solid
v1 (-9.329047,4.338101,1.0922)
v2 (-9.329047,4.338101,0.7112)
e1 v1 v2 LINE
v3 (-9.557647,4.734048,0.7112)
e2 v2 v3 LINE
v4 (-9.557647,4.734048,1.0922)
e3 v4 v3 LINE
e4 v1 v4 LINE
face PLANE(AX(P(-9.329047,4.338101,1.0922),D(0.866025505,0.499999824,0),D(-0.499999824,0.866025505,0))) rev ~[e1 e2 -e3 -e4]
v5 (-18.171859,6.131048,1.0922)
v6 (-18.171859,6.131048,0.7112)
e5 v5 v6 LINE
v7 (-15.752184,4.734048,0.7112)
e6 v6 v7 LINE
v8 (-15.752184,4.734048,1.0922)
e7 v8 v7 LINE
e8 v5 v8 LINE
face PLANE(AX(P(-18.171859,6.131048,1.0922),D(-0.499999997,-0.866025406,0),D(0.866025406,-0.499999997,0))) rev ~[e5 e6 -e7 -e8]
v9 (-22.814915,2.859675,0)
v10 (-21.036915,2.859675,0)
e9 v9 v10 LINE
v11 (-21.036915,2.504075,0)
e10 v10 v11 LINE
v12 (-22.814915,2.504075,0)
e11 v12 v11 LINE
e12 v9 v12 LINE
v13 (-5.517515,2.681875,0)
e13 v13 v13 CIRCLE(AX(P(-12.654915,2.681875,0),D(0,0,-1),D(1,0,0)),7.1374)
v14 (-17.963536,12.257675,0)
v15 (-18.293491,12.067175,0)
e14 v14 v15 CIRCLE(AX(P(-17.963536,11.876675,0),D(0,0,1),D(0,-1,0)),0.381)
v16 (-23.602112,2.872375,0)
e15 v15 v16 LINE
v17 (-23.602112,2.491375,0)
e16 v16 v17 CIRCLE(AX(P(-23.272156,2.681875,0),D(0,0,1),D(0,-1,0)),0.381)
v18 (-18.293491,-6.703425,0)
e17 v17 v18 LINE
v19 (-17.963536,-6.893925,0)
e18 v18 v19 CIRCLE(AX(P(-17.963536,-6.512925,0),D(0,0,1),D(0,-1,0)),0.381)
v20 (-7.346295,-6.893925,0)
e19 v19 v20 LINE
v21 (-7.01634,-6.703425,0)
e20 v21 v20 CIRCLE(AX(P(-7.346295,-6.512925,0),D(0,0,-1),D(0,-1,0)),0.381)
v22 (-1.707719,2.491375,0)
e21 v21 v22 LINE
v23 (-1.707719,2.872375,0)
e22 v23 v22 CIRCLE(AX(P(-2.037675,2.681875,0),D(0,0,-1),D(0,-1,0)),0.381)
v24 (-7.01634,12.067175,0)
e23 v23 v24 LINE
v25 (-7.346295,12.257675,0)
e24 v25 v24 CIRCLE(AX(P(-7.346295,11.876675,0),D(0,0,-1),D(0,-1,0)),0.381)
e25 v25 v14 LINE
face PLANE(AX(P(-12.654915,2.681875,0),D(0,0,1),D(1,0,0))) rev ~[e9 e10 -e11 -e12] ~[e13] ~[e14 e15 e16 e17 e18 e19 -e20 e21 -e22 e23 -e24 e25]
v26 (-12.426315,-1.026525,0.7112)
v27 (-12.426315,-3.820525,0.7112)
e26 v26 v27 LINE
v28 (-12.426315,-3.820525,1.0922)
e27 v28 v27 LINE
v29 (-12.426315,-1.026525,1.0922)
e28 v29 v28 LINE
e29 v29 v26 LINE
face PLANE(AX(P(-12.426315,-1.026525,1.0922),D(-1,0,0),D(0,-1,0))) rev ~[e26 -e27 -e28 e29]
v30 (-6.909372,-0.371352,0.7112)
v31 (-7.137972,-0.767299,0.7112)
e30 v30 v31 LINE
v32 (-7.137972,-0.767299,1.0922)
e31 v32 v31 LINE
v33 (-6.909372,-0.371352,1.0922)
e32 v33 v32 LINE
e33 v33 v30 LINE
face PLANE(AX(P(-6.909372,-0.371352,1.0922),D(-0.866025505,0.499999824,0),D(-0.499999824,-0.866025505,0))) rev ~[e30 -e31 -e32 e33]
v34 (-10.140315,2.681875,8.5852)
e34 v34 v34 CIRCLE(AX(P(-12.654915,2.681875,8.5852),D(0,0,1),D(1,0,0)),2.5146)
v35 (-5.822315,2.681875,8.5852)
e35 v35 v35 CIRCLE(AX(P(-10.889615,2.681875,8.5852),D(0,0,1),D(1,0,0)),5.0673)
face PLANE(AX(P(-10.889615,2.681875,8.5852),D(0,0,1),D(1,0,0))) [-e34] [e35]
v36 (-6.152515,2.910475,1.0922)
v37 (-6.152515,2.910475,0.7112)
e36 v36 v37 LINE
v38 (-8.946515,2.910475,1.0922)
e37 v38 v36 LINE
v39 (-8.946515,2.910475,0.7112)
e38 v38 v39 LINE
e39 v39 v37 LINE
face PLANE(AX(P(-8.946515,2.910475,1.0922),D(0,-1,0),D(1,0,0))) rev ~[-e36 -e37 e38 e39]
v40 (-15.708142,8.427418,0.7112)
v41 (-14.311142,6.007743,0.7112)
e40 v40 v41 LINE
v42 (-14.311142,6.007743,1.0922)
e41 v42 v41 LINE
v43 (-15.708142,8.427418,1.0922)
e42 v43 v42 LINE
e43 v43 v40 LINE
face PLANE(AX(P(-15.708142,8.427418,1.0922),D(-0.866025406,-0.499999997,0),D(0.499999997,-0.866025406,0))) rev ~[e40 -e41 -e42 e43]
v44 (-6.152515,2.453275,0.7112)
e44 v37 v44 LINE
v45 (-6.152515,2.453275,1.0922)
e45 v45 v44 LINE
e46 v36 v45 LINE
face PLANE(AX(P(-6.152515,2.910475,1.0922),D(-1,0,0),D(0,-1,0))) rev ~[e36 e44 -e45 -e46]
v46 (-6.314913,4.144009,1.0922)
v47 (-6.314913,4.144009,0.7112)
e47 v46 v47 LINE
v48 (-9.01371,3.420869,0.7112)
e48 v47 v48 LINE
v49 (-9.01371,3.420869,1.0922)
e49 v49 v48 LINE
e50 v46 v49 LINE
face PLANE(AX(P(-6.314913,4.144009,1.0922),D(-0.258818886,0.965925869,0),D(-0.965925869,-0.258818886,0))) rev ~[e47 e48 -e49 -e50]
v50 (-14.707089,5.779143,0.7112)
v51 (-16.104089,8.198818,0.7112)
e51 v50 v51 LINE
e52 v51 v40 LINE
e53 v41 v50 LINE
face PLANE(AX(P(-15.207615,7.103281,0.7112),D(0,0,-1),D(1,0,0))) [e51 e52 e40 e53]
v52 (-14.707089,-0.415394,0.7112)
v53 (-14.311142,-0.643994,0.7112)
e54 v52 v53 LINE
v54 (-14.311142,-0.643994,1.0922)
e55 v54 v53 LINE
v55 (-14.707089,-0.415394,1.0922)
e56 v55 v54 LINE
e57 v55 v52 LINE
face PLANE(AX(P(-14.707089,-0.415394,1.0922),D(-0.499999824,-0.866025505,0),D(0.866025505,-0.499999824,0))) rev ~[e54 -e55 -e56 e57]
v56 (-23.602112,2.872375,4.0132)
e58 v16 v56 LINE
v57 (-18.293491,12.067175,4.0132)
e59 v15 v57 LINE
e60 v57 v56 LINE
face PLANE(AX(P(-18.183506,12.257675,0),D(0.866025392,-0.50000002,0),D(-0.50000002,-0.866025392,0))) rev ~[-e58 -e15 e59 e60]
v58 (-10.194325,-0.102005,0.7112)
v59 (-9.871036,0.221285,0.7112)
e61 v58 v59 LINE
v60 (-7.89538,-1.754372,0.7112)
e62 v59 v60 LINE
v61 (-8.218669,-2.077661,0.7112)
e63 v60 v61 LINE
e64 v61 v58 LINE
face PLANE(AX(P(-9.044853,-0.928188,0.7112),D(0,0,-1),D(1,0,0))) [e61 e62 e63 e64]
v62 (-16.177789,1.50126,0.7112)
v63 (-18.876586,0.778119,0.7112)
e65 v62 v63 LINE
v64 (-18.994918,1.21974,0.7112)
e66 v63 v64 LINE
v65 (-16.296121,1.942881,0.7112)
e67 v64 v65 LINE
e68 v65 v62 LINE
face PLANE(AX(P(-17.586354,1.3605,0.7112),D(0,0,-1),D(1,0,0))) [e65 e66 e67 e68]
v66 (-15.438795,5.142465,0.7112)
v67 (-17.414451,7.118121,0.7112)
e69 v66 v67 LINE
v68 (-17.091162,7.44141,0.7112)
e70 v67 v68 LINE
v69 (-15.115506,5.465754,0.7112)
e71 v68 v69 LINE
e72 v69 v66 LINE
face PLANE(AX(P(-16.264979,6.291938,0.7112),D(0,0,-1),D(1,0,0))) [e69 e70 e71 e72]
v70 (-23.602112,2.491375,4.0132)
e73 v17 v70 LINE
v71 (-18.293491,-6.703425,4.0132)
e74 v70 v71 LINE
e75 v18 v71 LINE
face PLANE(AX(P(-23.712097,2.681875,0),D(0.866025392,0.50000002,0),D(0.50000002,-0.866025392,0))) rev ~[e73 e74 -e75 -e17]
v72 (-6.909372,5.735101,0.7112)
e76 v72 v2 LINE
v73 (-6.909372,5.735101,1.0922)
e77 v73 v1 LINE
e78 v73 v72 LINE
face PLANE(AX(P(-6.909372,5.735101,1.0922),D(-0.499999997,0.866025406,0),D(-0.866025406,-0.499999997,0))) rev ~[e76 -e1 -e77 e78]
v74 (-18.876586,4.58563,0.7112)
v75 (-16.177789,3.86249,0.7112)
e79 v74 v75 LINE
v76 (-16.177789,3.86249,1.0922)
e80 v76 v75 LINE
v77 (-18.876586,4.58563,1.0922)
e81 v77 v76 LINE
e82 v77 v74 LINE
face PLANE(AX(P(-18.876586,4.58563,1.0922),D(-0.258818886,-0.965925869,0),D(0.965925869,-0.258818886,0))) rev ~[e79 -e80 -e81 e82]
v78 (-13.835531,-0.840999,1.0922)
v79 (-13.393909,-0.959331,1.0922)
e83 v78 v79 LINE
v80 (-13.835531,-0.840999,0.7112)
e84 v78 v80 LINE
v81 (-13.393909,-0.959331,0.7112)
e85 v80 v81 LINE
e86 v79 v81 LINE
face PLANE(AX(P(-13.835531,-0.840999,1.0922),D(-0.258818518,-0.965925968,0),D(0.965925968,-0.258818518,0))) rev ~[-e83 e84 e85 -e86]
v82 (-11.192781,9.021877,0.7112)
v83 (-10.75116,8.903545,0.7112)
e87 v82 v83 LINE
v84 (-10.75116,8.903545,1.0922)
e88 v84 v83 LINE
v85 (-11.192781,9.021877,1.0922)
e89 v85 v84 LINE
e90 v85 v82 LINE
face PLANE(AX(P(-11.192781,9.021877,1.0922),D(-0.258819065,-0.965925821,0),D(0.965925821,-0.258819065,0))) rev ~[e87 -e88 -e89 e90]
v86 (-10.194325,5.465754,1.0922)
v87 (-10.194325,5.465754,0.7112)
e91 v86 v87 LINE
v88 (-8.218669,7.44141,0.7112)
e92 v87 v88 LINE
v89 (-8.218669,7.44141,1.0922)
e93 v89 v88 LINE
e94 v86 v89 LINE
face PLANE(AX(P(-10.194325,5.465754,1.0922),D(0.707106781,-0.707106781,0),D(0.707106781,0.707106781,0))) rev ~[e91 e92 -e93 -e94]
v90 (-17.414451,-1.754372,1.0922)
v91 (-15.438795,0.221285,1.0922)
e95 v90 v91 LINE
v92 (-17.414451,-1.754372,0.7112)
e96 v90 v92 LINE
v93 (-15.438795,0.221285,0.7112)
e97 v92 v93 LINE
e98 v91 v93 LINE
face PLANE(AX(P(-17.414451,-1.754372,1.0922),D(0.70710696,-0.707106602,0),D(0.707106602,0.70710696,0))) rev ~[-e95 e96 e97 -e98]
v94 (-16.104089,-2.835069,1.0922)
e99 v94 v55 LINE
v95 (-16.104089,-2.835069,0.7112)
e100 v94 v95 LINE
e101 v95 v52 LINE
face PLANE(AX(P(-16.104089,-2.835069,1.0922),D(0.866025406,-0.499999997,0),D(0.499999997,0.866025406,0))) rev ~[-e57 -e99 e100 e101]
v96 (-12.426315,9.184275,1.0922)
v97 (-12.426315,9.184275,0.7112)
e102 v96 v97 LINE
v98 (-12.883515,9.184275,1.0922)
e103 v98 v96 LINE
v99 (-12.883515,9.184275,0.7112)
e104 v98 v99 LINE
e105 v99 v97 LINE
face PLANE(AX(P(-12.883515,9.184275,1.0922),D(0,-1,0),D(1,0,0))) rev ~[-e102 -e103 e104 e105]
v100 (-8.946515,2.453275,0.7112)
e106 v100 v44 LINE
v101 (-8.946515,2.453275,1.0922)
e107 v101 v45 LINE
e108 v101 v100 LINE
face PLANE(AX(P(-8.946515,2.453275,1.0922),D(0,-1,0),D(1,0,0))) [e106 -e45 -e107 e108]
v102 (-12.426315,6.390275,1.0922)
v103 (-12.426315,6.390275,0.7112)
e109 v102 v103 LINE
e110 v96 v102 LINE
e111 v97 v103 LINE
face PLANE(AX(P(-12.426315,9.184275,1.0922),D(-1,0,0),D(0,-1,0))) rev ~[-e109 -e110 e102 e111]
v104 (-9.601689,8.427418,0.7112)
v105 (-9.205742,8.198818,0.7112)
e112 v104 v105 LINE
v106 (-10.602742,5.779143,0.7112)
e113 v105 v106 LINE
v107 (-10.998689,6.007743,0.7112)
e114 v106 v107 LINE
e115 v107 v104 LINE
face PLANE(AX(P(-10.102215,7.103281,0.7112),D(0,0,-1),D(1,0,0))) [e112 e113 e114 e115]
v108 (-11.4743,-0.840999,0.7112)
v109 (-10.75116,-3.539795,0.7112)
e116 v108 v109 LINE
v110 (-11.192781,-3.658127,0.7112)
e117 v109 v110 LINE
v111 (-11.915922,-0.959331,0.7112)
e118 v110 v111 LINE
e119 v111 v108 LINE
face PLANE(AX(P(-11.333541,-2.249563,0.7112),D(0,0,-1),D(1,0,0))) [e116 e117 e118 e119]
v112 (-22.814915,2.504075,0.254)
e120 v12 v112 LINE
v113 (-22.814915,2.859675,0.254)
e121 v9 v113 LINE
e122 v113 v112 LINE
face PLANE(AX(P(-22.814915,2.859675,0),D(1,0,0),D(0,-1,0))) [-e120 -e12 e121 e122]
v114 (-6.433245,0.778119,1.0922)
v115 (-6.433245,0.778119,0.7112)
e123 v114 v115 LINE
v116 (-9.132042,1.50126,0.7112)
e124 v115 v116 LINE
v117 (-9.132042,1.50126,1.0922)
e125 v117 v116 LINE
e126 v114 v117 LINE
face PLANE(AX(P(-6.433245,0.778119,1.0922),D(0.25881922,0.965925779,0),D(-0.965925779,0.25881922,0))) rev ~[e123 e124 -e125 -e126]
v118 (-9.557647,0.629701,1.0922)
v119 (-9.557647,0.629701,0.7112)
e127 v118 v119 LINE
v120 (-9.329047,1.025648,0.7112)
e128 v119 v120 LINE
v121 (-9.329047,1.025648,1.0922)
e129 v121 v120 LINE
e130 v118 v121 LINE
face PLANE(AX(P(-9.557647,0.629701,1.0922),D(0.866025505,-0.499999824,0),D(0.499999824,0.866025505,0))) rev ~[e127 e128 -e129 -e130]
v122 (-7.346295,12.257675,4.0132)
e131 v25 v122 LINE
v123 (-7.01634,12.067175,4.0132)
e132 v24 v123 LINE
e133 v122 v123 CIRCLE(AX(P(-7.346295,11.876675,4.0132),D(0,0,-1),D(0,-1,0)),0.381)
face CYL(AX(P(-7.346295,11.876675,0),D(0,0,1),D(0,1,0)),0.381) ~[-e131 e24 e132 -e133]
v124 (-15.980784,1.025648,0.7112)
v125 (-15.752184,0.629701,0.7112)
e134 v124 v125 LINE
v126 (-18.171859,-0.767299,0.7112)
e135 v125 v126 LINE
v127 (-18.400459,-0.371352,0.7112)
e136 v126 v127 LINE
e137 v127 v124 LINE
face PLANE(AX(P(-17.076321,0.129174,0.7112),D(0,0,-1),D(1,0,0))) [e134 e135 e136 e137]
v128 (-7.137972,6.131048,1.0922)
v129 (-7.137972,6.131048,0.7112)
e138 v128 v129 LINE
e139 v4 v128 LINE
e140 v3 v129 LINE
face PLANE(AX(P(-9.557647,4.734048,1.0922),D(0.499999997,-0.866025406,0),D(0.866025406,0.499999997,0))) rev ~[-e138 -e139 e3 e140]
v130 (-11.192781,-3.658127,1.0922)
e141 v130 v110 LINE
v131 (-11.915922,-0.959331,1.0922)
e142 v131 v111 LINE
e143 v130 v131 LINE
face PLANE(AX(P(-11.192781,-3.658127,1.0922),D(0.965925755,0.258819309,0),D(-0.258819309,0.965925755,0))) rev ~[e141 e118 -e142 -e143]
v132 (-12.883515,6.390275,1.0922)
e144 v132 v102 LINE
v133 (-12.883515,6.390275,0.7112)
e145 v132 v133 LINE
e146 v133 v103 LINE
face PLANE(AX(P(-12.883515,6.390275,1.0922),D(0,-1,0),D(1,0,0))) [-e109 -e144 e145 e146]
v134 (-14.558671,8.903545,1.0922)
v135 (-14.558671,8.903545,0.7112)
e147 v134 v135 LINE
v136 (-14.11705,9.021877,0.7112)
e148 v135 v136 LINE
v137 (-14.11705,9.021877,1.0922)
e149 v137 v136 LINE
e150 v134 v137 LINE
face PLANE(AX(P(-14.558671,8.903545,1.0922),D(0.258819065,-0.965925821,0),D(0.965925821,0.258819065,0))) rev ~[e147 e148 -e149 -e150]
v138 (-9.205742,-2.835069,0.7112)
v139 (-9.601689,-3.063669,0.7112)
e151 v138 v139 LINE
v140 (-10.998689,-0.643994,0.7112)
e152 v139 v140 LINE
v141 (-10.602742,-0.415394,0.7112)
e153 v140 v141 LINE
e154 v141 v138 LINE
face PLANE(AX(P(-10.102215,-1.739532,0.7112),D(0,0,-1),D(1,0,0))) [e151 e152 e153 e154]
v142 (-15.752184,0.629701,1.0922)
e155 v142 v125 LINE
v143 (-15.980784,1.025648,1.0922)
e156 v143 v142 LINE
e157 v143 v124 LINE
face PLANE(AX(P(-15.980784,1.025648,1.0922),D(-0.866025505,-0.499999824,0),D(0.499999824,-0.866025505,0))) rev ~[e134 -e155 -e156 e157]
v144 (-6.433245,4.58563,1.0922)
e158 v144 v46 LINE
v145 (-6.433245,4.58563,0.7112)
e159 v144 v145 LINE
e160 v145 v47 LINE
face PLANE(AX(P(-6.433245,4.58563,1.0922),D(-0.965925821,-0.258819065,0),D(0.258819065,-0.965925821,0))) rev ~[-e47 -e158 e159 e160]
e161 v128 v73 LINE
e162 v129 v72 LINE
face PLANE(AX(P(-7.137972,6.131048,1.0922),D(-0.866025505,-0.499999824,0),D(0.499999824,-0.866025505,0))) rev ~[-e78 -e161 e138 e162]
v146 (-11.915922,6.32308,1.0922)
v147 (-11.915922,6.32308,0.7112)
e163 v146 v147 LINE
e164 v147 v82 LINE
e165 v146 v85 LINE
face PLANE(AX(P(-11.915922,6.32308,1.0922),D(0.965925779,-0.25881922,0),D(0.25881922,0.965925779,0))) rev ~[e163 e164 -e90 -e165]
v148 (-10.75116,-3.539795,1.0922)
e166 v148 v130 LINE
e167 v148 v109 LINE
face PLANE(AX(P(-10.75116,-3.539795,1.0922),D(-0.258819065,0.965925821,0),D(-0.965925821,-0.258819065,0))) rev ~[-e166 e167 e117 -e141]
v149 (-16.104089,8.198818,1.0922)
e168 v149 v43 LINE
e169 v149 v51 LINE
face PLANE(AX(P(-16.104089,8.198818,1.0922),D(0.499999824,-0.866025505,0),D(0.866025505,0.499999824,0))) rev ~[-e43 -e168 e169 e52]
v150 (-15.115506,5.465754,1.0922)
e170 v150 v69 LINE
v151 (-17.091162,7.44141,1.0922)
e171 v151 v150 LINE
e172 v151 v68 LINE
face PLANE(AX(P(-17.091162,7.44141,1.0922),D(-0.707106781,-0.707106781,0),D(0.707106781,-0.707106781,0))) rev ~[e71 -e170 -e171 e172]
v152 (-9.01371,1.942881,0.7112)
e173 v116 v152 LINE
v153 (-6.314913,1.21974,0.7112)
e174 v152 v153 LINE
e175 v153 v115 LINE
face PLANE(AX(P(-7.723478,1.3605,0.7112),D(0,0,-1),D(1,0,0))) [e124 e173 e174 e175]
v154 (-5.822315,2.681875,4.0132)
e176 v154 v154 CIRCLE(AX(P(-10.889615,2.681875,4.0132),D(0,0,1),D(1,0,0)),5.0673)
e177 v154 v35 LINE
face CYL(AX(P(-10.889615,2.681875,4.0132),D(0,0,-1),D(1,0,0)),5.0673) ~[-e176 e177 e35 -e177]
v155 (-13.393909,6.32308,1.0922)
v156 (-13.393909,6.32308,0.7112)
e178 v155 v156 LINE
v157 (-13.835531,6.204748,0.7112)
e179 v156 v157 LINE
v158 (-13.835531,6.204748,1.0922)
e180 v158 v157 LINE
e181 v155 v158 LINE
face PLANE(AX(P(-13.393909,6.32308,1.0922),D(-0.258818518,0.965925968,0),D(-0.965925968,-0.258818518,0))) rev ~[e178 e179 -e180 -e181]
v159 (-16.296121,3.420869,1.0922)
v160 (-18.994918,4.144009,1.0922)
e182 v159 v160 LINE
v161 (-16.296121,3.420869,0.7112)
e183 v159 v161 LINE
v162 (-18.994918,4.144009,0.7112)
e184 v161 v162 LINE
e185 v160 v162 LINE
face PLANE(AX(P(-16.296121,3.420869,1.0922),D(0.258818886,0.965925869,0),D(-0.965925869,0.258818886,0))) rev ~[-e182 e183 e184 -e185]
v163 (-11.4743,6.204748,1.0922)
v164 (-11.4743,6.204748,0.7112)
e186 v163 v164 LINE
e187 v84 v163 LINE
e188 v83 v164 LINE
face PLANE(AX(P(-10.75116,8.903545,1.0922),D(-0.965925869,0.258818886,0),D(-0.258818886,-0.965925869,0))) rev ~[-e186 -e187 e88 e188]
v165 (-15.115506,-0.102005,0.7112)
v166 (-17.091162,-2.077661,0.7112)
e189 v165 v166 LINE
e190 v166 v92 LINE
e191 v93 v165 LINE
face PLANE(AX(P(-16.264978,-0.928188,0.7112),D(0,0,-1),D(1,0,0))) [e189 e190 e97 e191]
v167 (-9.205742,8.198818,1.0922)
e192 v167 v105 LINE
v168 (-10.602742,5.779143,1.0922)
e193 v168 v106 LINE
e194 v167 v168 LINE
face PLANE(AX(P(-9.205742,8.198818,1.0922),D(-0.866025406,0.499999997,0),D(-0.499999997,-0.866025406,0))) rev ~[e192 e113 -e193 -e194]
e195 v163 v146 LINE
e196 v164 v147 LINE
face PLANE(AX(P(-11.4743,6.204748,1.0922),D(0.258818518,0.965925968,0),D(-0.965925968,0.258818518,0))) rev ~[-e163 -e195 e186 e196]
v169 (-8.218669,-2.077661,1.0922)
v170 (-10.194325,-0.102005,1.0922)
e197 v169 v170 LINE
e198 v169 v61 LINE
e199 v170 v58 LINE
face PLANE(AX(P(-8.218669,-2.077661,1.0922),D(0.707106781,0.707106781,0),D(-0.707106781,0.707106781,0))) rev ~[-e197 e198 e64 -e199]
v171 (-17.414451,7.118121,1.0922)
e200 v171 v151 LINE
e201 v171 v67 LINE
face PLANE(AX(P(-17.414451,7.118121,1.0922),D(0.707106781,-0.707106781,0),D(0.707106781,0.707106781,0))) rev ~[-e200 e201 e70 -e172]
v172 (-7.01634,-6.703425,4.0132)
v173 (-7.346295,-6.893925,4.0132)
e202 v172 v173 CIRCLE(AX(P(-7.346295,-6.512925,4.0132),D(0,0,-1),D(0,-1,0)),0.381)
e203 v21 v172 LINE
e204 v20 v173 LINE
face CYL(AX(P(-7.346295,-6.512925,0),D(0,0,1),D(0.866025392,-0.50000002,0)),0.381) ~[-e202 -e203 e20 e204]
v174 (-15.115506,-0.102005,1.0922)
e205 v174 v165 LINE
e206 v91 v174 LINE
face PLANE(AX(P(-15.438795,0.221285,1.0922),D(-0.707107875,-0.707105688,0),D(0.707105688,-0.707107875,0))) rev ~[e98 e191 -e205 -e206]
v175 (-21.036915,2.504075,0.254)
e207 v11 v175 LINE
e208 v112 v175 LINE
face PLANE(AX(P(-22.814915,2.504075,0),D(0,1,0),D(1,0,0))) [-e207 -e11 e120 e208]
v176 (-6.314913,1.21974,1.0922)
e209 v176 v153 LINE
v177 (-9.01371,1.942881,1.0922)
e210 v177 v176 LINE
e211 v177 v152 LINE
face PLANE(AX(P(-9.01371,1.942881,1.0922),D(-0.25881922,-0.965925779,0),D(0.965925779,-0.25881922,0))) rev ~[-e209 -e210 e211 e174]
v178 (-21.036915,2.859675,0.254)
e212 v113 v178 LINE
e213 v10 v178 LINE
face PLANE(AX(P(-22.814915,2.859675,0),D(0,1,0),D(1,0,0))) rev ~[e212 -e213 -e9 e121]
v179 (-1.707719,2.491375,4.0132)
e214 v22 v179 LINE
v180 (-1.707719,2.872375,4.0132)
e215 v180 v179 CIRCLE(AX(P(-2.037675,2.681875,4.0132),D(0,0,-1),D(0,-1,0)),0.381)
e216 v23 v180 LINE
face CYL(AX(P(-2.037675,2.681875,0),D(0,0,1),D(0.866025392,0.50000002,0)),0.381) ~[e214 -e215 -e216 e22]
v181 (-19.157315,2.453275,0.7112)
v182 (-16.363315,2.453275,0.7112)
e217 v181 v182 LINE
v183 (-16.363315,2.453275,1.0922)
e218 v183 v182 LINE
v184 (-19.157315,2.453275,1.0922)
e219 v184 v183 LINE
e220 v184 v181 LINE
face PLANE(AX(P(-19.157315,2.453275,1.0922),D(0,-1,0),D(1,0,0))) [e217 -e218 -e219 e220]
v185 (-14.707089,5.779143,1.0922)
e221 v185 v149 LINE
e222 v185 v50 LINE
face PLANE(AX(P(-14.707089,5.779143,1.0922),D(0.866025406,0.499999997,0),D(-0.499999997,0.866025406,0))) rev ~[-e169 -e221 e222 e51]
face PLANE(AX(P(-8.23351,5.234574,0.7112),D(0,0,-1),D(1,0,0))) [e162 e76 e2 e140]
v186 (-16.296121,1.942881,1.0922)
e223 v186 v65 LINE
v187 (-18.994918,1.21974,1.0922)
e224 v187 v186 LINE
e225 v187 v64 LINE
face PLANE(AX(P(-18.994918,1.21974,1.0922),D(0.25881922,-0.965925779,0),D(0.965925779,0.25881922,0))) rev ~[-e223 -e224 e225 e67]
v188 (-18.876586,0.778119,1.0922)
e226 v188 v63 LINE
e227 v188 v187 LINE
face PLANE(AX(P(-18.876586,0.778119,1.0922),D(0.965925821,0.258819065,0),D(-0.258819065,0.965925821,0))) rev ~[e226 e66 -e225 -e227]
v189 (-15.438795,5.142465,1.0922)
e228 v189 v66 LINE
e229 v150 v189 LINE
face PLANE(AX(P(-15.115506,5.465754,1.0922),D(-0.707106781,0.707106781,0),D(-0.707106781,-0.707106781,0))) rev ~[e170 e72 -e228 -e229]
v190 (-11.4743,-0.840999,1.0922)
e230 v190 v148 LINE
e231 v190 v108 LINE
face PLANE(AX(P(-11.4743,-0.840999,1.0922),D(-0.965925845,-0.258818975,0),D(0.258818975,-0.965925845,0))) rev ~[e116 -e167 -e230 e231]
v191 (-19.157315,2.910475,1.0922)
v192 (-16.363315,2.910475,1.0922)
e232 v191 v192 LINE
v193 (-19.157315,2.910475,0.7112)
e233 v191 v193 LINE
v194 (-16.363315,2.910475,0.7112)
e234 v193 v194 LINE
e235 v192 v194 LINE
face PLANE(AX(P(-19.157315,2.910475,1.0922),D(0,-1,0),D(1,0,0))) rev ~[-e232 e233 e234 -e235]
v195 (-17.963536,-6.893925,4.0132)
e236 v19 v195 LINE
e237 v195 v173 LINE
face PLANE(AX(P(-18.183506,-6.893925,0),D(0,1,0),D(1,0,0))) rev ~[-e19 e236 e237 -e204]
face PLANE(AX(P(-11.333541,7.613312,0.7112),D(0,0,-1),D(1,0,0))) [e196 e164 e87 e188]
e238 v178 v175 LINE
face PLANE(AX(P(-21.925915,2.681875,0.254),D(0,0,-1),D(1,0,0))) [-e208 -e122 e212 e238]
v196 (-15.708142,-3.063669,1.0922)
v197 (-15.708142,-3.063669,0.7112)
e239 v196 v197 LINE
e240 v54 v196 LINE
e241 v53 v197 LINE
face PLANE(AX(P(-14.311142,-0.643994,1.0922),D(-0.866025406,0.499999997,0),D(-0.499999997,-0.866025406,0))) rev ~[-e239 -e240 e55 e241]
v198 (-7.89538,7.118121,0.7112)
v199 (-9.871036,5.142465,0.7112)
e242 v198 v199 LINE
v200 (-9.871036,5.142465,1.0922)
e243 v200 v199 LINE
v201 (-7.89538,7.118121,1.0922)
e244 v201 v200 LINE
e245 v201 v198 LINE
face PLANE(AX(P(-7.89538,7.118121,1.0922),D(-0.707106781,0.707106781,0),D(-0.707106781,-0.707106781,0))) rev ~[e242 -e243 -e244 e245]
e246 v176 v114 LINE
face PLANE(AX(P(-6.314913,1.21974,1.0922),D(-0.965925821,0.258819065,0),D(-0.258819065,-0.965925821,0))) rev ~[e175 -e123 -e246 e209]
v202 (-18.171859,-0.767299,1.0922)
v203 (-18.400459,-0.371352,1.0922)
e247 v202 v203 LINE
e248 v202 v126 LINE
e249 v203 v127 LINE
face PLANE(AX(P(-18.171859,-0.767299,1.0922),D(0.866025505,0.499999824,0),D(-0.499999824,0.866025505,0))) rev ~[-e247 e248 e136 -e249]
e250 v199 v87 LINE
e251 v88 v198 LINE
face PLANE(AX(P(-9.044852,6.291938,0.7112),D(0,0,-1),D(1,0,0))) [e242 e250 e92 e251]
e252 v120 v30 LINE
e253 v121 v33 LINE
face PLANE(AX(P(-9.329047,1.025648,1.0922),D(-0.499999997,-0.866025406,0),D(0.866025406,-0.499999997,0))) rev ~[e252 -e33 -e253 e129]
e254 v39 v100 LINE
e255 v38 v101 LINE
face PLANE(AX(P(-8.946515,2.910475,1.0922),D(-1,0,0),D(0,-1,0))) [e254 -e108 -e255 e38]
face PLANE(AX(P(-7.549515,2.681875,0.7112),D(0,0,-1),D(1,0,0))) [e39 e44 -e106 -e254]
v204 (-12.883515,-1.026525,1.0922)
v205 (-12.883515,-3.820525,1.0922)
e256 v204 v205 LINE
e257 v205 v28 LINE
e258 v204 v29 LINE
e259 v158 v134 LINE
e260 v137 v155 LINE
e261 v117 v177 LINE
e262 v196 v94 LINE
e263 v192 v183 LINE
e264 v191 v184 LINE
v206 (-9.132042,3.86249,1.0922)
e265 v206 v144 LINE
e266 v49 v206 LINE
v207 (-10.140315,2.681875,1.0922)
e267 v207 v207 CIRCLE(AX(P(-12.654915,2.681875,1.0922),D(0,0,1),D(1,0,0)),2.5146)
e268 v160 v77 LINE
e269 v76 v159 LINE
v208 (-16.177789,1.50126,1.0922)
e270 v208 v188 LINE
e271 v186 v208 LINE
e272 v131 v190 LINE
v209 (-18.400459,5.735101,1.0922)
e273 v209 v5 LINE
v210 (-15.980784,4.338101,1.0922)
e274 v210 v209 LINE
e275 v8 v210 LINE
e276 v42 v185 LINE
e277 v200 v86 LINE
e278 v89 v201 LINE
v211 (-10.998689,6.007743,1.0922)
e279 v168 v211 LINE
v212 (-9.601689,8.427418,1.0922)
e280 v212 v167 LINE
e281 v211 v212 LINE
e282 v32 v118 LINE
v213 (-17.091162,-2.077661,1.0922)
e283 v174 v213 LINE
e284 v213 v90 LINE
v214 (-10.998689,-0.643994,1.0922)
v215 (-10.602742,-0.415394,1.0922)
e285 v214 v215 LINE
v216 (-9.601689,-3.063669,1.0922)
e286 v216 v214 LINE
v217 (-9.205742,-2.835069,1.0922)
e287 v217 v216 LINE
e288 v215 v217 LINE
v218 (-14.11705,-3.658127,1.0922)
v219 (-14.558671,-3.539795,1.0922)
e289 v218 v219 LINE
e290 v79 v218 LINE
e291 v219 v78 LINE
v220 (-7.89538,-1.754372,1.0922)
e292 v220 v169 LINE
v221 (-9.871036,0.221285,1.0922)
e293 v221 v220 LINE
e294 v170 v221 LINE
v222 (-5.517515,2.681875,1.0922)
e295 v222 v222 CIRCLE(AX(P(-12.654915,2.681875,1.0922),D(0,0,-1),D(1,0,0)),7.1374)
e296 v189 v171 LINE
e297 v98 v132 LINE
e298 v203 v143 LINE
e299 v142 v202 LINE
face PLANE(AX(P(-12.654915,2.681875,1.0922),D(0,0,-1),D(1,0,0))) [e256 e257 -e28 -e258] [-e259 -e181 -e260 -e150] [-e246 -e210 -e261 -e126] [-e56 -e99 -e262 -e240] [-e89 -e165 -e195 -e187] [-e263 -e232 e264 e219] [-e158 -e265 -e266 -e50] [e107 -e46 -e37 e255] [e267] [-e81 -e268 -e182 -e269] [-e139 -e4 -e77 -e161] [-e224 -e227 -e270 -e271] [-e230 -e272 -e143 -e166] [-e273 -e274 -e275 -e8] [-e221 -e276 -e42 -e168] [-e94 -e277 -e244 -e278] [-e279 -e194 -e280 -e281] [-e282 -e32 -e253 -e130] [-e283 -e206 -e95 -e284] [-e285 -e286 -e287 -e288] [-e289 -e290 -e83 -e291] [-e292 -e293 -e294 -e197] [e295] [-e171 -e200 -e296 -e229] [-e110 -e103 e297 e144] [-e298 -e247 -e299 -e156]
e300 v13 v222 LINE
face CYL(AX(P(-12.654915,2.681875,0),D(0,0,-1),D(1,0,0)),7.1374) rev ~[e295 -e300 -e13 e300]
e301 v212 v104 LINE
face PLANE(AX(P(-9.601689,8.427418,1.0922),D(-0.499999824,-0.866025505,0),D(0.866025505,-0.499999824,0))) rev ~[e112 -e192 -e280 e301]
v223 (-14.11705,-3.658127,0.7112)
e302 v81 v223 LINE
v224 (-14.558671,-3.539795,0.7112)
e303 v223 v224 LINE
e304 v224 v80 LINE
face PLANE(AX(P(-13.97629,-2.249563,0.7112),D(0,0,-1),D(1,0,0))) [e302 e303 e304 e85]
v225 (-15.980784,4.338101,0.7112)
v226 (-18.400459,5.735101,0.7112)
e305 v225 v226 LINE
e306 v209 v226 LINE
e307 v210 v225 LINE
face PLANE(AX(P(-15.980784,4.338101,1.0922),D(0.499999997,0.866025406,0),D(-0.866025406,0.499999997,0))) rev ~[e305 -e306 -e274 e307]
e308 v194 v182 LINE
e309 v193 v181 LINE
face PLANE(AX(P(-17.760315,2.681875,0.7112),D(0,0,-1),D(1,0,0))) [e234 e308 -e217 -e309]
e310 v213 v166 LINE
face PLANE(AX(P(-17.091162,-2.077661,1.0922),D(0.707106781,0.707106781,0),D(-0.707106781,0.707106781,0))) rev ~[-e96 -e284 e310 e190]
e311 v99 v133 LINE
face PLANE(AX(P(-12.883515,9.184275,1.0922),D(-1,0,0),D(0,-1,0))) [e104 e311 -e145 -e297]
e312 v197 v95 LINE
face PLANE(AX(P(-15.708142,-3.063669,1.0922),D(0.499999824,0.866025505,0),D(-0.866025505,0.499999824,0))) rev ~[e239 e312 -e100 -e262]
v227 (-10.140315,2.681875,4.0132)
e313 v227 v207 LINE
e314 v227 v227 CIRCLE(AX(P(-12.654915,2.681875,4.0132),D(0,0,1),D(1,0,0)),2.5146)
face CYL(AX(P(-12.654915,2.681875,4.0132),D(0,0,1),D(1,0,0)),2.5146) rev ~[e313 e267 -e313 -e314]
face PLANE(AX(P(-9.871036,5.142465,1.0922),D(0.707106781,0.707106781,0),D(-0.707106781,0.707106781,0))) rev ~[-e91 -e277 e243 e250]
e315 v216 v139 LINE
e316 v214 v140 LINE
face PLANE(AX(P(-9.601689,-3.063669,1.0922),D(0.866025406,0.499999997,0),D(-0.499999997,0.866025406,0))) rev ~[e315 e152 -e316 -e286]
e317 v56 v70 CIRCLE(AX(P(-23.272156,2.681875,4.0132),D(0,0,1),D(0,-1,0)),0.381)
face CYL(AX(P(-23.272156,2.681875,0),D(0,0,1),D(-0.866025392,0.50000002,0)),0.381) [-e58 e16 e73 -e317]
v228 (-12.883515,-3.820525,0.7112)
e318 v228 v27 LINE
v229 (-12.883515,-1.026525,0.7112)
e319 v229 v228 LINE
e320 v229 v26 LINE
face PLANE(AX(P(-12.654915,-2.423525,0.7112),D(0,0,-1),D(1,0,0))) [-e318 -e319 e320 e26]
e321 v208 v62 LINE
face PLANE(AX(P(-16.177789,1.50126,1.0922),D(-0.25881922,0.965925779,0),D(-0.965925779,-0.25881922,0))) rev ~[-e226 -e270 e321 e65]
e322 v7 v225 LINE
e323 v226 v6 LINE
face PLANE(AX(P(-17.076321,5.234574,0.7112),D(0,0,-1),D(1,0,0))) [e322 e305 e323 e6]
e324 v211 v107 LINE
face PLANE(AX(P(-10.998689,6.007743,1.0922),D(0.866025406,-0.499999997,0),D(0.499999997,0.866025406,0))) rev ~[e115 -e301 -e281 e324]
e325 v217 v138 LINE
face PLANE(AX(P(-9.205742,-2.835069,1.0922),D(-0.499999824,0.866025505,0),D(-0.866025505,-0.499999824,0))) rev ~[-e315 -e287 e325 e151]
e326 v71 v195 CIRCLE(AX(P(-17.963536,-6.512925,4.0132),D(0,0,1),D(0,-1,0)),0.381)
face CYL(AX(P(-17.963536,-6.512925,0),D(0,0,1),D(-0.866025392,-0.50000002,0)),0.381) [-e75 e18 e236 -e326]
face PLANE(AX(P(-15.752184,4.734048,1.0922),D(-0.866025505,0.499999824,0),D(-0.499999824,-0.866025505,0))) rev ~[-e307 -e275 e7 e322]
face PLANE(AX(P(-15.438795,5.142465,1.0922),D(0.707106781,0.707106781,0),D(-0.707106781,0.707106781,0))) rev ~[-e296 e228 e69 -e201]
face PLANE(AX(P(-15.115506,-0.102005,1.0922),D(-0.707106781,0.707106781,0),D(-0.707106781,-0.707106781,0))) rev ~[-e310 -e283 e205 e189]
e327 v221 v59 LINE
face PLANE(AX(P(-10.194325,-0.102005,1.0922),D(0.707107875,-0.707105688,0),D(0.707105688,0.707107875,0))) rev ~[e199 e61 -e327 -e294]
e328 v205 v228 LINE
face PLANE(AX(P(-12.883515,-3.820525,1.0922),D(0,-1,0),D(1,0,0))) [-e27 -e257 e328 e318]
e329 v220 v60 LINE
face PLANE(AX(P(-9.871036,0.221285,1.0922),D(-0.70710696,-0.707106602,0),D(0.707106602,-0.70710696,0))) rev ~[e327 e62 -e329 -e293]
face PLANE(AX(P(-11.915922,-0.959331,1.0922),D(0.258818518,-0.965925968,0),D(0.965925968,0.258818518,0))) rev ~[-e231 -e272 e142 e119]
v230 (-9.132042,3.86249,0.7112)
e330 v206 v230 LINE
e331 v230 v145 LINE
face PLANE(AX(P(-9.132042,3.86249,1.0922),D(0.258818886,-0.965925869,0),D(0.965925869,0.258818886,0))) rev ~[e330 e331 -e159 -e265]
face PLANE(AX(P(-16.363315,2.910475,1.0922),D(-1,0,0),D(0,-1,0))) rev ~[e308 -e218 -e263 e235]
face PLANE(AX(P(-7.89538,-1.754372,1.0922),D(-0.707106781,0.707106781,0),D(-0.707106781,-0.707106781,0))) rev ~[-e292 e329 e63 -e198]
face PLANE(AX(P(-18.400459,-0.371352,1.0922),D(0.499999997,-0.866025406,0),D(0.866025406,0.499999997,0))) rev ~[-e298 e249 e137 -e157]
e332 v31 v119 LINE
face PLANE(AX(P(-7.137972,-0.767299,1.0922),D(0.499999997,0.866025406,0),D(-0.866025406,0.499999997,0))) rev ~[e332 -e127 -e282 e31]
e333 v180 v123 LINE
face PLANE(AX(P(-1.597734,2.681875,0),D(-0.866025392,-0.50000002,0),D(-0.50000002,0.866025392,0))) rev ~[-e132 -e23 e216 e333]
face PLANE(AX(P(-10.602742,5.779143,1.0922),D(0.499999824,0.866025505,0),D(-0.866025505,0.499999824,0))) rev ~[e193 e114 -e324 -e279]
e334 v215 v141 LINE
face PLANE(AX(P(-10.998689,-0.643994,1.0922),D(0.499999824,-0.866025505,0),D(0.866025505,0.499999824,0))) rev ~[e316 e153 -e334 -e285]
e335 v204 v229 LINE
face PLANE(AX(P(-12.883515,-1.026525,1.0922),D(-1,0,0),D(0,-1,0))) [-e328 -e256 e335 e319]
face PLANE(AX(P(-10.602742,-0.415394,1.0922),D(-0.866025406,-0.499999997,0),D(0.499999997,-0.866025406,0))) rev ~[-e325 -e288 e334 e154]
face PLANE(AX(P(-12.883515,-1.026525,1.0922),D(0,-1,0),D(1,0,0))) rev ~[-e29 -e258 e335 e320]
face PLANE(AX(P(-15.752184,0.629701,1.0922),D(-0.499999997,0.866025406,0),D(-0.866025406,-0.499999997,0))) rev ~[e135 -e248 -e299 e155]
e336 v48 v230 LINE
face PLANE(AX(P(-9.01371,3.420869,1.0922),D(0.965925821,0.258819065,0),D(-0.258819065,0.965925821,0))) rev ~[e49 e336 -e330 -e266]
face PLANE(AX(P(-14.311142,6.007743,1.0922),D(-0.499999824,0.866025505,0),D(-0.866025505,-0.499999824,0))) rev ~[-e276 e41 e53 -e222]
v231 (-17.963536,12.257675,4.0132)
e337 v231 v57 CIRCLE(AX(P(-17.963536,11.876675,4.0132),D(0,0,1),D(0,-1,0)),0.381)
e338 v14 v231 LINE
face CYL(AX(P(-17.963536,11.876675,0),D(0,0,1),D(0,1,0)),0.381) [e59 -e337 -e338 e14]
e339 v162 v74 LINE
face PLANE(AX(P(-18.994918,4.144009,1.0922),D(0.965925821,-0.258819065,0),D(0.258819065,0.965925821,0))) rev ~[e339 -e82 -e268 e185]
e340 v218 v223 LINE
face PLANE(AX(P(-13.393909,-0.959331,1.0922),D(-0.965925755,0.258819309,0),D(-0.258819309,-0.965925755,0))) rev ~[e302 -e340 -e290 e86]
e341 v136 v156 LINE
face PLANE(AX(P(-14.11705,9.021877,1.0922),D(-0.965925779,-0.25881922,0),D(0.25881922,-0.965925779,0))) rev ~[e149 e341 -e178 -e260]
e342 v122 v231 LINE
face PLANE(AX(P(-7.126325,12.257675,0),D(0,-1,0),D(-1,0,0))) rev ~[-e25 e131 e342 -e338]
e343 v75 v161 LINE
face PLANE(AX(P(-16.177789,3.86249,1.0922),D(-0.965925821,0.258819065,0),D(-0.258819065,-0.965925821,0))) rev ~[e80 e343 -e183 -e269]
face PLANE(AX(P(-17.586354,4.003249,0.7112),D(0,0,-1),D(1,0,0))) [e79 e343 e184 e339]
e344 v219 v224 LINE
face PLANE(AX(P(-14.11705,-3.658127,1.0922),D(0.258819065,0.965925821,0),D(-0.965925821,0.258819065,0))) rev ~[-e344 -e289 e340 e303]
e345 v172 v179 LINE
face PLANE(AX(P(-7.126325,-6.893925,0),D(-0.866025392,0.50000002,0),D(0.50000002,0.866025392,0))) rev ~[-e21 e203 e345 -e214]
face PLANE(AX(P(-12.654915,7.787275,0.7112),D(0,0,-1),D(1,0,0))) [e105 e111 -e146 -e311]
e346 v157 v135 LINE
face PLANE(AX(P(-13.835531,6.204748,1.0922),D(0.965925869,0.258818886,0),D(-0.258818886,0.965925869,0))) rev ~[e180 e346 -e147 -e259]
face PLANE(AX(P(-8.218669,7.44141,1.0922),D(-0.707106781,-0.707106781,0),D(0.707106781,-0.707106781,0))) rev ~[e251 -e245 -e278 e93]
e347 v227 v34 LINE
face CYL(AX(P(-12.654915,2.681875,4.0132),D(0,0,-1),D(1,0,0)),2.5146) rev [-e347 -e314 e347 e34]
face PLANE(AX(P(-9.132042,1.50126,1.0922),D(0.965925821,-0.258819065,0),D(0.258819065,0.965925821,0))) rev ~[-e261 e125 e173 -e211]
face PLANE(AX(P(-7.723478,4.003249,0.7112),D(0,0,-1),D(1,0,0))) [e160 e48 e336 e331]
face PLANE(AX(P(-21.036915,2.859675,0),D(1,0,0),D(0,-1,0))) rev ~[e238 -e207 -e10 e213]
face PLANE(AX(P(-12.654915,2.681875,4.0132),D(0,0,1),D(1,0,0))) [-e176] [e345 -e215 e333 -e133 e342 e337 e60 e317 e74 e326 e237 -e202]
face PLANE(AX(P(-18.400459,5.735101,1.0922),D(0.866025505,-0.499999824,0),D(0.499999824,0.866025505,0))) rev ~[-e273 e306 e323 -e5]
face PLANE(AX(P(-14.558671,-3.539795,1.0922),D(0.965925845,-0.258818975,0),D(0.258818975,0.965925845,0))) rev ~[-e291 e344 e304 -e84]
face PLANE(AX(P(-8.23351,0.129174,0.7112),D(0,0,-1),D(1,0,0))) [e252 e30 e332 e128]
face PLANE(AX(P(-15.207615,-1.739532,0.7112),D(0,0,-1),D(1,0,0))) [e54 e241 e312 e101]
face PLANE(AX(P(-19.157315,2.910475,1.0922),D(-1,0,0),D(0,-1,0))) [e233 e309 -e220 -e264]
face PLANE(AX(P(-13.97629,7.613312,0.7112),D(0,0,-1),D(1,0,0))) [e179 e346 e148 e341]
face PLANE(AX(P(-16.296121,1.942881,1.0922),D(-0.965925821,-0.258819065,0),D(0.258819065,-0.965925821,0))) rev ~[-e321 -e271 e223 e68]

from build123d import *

# Parameters (mm, degrees)
F1_DEPTH  = 4.0132
F2_R      = 2.5146
F3_DEPTH  = 25.4
F4_R      = 5.0673
F4_R_2    = 2.5146
F5_DEPTH  = 4.572
F6_R      = 7.1374
F7_DEPTH  = 1.0922
F8_W      = 2.794
F8_H      = 0.4572
F8_W_2    = 0.4572
F8_H_2    = 2.794
F9_DEPTH  = 0.381
F10_R     = 0.381
F11_W     = 1.778
F11_H     = 0.3556
F12_DEPTH = 0.254


with BuildPart() as f1:
    # F0 (on Top) → F1 (new body)
    with BuildSketch(Plane.XY):
        Polygon((-7.126325, 12.257675), (-18.183506, 12.257675), (-23.712097, 2.681875), (-18.183506, -6.893925), (-7.126325, -6.893925), (-1.597734, 2.681875), align=None)
    extrude(amount=F1_DEPTH)

    # F2 (on face) → F3 (cut)
    with BuildSketch(Plane.XY.offset(4.0132)):
        with Locations((-12.654915, 2.681875)):
            Circle(F2_R)
    extrude(amount=-F3_DEPTH, mode=Mode.SUBTRACT)

    # F4 (on face) → F5 (join)
    with BuildSketch(Plane.XY.offset(4.0132)):
        with Locations((-10.889615, 2.681875)):
            Circle(F4_R)
        with Locations((-12.654915, 2.681875)):
            Circle(F4_R_2, mode=Mode.SUBTRACT)
    extrude(amount=F5_DEPTH)

    # F6 (on face) → F7 (cut)
    with BuildSketch(Plane(origin=(0, 0, 0), x_dir=(1, 0, 0), z_dir=(0, 0, -1))):
        with Locations((-12.654915, -2.681875)):
            Circle(F6_R)
    extrude(amount=-F7_DEPTH, mode=Mode.SUBTRACT)

    # F8 (on face) → F9 (join)
    with BuildSketch(Plane(origin=(0, 0, 1.0922), x_dir=(1, 0, 0), z_dir=(0, 0, -1))):
        with Locations((-7.549515, -2.681875)):
            Rectangle(F8_W, F8_H)
        Polygon((-9.132042, -1.50126), (-9.01371, -1.942881), (-6.314913, -1.21974), (-6.433245, -0.778119), align=None)
        Polygon((-9.557647, -0.629701), (-9.329047, -1.025648), (-6.909372, 0.371352), (-7.137972, 0.767299), align=None)
        Polygon((-10.194325, 0.102005), (-9.871036, -0.221285), (-7.89538, 1.754372), (-8.218669, 2.077661), align=None)
        Polygon((-10.998689, 0.643994), (-10.602742, 0.415394), (-9.205742, 2.835069), (-9.601689, 3.063669), align=None)
        Polygon((-11.915922, 0.959331), (-11.4743, 0.840999), (-10.75116, 3.539795), (-11.192781, 3.658127), align=None)
        with Locations((-12.654915, 2.423525)):
            Rectangle(F8_W_2, F8_H_2)
        Polygon((-13.835531, 0.840999), (-13.393909, 0.959331), (-14.11705, 3.658127), (-14.558671, 3.539795), align=None)
        Polygon((-14.707089, 0.415394), (-14.311142, 0.643994), (-15.708142, 3.063669), (-16.104089, 2.835069), align=None)
        Polygon((-15.438795, -0.221285), (-15.115506, 0.102005), (-17.091162, 2.077661), (-17.414451, 1.754372), align=None)
        Polygon((-15.980784, -1.025648), (-15.752184, -0.629701), (-18.171859, 0.767299), (-18.400459, 0.371352), align=None)
        Polygon((-16.296121, -1.942881), (-16.177789, -1.50126), (-18.876586, -0.778119), (-18.994918, -1.21974), align=None)
        with Locations((-17.760315, -2.681875)):
            Rectangle(F8_W, F8_H)
        Polygon((-16.177789, -3.86249), (-16.296121, -3.420869), (-18.994918, -4.144009), (-18.876586, -4.58563), align=None)
        Polygon((-15.752184, -4.734048), (-15.980784, -4.338101), (-18.400459, -5.735101), (-18.171859, -6.131048), align=None)
        Polygon((-15.115506, -5.465754), (-15.438795, -5.142465), (-17.414451, -7.118121), (-17.091162, -7.44141), align=None)
        Polygon((-14.311142, -6.007743), (-14.707089, -5.779143), (-16.104089, -8.198818), (-15.708142, -8.427418), align=None)
        Polygon((-13.393909, -6.32308), (-13.835531, -6.204748), (-14.558671, -8.903545), (-14.11705, -9.021877), align=None)
        with Locations((-12.654915, -7.787275)):
            Rectangle(F8_W_2, F8_H_2)
        Polygon((-11.4743, -6.204748), (-11.915922, -6.32308), (-11.192781, -9.021877), (-10.75116, -8.903545), align=None)
        Polygon((-10.602742, -5.779143), (-10.998689, -6.007743), (-9.601689, -8.427418), (-9.205742, -8.198818), align=None)
        Polygon((-9.871036, -5.142465), (-10.194325, -5.465754), (-8.218669, -7.44141), (-7.89538, -7.118121), align=None)
        Polygon((-9.329047, -4.338101), (-9.557647, -4.734048), (-7.137972, -6.131048), (-6.909372, -5.735101), align=None)
        Polygon((-9.01371, -3.420869), (-9.132042, -3.86249), (-6.433245, -4.58563), (-6.314913, -4.144009), align=None)
    extrude(amount=F9_DEPTH)

    # F10
    f10_edges = [f1.edges().sort_by_distance(p)[0] for p in [
        (-7.126325, 12.257675, 2.0066),
        (-18.183506, 12.257675, 2.0066),
        (-23.712097, 2.681875, 2.0066),
        (-18.183506, -6.893925, 2.0066),
        (-7.126325, -6.893925, 2.0066),
        (-1.597734, 2.681875, 2.0066),
    ]]
    fillet(f10_edges, radius=F10_R)

    # F11 (on face) → F12 (cut)
    with BuildSketch(Plane(origin=(0, 0, 0), x_dir=(1, 0, 0), z_dir=(0, 0, -1))):
        with Locations((-21.925915, -2.681875)):
            Rectangle(F11_W, F11_H)
    extrude(amount=-F12_DEPTH, mode=Mode.SUBTRACT)


solid = f1.part
